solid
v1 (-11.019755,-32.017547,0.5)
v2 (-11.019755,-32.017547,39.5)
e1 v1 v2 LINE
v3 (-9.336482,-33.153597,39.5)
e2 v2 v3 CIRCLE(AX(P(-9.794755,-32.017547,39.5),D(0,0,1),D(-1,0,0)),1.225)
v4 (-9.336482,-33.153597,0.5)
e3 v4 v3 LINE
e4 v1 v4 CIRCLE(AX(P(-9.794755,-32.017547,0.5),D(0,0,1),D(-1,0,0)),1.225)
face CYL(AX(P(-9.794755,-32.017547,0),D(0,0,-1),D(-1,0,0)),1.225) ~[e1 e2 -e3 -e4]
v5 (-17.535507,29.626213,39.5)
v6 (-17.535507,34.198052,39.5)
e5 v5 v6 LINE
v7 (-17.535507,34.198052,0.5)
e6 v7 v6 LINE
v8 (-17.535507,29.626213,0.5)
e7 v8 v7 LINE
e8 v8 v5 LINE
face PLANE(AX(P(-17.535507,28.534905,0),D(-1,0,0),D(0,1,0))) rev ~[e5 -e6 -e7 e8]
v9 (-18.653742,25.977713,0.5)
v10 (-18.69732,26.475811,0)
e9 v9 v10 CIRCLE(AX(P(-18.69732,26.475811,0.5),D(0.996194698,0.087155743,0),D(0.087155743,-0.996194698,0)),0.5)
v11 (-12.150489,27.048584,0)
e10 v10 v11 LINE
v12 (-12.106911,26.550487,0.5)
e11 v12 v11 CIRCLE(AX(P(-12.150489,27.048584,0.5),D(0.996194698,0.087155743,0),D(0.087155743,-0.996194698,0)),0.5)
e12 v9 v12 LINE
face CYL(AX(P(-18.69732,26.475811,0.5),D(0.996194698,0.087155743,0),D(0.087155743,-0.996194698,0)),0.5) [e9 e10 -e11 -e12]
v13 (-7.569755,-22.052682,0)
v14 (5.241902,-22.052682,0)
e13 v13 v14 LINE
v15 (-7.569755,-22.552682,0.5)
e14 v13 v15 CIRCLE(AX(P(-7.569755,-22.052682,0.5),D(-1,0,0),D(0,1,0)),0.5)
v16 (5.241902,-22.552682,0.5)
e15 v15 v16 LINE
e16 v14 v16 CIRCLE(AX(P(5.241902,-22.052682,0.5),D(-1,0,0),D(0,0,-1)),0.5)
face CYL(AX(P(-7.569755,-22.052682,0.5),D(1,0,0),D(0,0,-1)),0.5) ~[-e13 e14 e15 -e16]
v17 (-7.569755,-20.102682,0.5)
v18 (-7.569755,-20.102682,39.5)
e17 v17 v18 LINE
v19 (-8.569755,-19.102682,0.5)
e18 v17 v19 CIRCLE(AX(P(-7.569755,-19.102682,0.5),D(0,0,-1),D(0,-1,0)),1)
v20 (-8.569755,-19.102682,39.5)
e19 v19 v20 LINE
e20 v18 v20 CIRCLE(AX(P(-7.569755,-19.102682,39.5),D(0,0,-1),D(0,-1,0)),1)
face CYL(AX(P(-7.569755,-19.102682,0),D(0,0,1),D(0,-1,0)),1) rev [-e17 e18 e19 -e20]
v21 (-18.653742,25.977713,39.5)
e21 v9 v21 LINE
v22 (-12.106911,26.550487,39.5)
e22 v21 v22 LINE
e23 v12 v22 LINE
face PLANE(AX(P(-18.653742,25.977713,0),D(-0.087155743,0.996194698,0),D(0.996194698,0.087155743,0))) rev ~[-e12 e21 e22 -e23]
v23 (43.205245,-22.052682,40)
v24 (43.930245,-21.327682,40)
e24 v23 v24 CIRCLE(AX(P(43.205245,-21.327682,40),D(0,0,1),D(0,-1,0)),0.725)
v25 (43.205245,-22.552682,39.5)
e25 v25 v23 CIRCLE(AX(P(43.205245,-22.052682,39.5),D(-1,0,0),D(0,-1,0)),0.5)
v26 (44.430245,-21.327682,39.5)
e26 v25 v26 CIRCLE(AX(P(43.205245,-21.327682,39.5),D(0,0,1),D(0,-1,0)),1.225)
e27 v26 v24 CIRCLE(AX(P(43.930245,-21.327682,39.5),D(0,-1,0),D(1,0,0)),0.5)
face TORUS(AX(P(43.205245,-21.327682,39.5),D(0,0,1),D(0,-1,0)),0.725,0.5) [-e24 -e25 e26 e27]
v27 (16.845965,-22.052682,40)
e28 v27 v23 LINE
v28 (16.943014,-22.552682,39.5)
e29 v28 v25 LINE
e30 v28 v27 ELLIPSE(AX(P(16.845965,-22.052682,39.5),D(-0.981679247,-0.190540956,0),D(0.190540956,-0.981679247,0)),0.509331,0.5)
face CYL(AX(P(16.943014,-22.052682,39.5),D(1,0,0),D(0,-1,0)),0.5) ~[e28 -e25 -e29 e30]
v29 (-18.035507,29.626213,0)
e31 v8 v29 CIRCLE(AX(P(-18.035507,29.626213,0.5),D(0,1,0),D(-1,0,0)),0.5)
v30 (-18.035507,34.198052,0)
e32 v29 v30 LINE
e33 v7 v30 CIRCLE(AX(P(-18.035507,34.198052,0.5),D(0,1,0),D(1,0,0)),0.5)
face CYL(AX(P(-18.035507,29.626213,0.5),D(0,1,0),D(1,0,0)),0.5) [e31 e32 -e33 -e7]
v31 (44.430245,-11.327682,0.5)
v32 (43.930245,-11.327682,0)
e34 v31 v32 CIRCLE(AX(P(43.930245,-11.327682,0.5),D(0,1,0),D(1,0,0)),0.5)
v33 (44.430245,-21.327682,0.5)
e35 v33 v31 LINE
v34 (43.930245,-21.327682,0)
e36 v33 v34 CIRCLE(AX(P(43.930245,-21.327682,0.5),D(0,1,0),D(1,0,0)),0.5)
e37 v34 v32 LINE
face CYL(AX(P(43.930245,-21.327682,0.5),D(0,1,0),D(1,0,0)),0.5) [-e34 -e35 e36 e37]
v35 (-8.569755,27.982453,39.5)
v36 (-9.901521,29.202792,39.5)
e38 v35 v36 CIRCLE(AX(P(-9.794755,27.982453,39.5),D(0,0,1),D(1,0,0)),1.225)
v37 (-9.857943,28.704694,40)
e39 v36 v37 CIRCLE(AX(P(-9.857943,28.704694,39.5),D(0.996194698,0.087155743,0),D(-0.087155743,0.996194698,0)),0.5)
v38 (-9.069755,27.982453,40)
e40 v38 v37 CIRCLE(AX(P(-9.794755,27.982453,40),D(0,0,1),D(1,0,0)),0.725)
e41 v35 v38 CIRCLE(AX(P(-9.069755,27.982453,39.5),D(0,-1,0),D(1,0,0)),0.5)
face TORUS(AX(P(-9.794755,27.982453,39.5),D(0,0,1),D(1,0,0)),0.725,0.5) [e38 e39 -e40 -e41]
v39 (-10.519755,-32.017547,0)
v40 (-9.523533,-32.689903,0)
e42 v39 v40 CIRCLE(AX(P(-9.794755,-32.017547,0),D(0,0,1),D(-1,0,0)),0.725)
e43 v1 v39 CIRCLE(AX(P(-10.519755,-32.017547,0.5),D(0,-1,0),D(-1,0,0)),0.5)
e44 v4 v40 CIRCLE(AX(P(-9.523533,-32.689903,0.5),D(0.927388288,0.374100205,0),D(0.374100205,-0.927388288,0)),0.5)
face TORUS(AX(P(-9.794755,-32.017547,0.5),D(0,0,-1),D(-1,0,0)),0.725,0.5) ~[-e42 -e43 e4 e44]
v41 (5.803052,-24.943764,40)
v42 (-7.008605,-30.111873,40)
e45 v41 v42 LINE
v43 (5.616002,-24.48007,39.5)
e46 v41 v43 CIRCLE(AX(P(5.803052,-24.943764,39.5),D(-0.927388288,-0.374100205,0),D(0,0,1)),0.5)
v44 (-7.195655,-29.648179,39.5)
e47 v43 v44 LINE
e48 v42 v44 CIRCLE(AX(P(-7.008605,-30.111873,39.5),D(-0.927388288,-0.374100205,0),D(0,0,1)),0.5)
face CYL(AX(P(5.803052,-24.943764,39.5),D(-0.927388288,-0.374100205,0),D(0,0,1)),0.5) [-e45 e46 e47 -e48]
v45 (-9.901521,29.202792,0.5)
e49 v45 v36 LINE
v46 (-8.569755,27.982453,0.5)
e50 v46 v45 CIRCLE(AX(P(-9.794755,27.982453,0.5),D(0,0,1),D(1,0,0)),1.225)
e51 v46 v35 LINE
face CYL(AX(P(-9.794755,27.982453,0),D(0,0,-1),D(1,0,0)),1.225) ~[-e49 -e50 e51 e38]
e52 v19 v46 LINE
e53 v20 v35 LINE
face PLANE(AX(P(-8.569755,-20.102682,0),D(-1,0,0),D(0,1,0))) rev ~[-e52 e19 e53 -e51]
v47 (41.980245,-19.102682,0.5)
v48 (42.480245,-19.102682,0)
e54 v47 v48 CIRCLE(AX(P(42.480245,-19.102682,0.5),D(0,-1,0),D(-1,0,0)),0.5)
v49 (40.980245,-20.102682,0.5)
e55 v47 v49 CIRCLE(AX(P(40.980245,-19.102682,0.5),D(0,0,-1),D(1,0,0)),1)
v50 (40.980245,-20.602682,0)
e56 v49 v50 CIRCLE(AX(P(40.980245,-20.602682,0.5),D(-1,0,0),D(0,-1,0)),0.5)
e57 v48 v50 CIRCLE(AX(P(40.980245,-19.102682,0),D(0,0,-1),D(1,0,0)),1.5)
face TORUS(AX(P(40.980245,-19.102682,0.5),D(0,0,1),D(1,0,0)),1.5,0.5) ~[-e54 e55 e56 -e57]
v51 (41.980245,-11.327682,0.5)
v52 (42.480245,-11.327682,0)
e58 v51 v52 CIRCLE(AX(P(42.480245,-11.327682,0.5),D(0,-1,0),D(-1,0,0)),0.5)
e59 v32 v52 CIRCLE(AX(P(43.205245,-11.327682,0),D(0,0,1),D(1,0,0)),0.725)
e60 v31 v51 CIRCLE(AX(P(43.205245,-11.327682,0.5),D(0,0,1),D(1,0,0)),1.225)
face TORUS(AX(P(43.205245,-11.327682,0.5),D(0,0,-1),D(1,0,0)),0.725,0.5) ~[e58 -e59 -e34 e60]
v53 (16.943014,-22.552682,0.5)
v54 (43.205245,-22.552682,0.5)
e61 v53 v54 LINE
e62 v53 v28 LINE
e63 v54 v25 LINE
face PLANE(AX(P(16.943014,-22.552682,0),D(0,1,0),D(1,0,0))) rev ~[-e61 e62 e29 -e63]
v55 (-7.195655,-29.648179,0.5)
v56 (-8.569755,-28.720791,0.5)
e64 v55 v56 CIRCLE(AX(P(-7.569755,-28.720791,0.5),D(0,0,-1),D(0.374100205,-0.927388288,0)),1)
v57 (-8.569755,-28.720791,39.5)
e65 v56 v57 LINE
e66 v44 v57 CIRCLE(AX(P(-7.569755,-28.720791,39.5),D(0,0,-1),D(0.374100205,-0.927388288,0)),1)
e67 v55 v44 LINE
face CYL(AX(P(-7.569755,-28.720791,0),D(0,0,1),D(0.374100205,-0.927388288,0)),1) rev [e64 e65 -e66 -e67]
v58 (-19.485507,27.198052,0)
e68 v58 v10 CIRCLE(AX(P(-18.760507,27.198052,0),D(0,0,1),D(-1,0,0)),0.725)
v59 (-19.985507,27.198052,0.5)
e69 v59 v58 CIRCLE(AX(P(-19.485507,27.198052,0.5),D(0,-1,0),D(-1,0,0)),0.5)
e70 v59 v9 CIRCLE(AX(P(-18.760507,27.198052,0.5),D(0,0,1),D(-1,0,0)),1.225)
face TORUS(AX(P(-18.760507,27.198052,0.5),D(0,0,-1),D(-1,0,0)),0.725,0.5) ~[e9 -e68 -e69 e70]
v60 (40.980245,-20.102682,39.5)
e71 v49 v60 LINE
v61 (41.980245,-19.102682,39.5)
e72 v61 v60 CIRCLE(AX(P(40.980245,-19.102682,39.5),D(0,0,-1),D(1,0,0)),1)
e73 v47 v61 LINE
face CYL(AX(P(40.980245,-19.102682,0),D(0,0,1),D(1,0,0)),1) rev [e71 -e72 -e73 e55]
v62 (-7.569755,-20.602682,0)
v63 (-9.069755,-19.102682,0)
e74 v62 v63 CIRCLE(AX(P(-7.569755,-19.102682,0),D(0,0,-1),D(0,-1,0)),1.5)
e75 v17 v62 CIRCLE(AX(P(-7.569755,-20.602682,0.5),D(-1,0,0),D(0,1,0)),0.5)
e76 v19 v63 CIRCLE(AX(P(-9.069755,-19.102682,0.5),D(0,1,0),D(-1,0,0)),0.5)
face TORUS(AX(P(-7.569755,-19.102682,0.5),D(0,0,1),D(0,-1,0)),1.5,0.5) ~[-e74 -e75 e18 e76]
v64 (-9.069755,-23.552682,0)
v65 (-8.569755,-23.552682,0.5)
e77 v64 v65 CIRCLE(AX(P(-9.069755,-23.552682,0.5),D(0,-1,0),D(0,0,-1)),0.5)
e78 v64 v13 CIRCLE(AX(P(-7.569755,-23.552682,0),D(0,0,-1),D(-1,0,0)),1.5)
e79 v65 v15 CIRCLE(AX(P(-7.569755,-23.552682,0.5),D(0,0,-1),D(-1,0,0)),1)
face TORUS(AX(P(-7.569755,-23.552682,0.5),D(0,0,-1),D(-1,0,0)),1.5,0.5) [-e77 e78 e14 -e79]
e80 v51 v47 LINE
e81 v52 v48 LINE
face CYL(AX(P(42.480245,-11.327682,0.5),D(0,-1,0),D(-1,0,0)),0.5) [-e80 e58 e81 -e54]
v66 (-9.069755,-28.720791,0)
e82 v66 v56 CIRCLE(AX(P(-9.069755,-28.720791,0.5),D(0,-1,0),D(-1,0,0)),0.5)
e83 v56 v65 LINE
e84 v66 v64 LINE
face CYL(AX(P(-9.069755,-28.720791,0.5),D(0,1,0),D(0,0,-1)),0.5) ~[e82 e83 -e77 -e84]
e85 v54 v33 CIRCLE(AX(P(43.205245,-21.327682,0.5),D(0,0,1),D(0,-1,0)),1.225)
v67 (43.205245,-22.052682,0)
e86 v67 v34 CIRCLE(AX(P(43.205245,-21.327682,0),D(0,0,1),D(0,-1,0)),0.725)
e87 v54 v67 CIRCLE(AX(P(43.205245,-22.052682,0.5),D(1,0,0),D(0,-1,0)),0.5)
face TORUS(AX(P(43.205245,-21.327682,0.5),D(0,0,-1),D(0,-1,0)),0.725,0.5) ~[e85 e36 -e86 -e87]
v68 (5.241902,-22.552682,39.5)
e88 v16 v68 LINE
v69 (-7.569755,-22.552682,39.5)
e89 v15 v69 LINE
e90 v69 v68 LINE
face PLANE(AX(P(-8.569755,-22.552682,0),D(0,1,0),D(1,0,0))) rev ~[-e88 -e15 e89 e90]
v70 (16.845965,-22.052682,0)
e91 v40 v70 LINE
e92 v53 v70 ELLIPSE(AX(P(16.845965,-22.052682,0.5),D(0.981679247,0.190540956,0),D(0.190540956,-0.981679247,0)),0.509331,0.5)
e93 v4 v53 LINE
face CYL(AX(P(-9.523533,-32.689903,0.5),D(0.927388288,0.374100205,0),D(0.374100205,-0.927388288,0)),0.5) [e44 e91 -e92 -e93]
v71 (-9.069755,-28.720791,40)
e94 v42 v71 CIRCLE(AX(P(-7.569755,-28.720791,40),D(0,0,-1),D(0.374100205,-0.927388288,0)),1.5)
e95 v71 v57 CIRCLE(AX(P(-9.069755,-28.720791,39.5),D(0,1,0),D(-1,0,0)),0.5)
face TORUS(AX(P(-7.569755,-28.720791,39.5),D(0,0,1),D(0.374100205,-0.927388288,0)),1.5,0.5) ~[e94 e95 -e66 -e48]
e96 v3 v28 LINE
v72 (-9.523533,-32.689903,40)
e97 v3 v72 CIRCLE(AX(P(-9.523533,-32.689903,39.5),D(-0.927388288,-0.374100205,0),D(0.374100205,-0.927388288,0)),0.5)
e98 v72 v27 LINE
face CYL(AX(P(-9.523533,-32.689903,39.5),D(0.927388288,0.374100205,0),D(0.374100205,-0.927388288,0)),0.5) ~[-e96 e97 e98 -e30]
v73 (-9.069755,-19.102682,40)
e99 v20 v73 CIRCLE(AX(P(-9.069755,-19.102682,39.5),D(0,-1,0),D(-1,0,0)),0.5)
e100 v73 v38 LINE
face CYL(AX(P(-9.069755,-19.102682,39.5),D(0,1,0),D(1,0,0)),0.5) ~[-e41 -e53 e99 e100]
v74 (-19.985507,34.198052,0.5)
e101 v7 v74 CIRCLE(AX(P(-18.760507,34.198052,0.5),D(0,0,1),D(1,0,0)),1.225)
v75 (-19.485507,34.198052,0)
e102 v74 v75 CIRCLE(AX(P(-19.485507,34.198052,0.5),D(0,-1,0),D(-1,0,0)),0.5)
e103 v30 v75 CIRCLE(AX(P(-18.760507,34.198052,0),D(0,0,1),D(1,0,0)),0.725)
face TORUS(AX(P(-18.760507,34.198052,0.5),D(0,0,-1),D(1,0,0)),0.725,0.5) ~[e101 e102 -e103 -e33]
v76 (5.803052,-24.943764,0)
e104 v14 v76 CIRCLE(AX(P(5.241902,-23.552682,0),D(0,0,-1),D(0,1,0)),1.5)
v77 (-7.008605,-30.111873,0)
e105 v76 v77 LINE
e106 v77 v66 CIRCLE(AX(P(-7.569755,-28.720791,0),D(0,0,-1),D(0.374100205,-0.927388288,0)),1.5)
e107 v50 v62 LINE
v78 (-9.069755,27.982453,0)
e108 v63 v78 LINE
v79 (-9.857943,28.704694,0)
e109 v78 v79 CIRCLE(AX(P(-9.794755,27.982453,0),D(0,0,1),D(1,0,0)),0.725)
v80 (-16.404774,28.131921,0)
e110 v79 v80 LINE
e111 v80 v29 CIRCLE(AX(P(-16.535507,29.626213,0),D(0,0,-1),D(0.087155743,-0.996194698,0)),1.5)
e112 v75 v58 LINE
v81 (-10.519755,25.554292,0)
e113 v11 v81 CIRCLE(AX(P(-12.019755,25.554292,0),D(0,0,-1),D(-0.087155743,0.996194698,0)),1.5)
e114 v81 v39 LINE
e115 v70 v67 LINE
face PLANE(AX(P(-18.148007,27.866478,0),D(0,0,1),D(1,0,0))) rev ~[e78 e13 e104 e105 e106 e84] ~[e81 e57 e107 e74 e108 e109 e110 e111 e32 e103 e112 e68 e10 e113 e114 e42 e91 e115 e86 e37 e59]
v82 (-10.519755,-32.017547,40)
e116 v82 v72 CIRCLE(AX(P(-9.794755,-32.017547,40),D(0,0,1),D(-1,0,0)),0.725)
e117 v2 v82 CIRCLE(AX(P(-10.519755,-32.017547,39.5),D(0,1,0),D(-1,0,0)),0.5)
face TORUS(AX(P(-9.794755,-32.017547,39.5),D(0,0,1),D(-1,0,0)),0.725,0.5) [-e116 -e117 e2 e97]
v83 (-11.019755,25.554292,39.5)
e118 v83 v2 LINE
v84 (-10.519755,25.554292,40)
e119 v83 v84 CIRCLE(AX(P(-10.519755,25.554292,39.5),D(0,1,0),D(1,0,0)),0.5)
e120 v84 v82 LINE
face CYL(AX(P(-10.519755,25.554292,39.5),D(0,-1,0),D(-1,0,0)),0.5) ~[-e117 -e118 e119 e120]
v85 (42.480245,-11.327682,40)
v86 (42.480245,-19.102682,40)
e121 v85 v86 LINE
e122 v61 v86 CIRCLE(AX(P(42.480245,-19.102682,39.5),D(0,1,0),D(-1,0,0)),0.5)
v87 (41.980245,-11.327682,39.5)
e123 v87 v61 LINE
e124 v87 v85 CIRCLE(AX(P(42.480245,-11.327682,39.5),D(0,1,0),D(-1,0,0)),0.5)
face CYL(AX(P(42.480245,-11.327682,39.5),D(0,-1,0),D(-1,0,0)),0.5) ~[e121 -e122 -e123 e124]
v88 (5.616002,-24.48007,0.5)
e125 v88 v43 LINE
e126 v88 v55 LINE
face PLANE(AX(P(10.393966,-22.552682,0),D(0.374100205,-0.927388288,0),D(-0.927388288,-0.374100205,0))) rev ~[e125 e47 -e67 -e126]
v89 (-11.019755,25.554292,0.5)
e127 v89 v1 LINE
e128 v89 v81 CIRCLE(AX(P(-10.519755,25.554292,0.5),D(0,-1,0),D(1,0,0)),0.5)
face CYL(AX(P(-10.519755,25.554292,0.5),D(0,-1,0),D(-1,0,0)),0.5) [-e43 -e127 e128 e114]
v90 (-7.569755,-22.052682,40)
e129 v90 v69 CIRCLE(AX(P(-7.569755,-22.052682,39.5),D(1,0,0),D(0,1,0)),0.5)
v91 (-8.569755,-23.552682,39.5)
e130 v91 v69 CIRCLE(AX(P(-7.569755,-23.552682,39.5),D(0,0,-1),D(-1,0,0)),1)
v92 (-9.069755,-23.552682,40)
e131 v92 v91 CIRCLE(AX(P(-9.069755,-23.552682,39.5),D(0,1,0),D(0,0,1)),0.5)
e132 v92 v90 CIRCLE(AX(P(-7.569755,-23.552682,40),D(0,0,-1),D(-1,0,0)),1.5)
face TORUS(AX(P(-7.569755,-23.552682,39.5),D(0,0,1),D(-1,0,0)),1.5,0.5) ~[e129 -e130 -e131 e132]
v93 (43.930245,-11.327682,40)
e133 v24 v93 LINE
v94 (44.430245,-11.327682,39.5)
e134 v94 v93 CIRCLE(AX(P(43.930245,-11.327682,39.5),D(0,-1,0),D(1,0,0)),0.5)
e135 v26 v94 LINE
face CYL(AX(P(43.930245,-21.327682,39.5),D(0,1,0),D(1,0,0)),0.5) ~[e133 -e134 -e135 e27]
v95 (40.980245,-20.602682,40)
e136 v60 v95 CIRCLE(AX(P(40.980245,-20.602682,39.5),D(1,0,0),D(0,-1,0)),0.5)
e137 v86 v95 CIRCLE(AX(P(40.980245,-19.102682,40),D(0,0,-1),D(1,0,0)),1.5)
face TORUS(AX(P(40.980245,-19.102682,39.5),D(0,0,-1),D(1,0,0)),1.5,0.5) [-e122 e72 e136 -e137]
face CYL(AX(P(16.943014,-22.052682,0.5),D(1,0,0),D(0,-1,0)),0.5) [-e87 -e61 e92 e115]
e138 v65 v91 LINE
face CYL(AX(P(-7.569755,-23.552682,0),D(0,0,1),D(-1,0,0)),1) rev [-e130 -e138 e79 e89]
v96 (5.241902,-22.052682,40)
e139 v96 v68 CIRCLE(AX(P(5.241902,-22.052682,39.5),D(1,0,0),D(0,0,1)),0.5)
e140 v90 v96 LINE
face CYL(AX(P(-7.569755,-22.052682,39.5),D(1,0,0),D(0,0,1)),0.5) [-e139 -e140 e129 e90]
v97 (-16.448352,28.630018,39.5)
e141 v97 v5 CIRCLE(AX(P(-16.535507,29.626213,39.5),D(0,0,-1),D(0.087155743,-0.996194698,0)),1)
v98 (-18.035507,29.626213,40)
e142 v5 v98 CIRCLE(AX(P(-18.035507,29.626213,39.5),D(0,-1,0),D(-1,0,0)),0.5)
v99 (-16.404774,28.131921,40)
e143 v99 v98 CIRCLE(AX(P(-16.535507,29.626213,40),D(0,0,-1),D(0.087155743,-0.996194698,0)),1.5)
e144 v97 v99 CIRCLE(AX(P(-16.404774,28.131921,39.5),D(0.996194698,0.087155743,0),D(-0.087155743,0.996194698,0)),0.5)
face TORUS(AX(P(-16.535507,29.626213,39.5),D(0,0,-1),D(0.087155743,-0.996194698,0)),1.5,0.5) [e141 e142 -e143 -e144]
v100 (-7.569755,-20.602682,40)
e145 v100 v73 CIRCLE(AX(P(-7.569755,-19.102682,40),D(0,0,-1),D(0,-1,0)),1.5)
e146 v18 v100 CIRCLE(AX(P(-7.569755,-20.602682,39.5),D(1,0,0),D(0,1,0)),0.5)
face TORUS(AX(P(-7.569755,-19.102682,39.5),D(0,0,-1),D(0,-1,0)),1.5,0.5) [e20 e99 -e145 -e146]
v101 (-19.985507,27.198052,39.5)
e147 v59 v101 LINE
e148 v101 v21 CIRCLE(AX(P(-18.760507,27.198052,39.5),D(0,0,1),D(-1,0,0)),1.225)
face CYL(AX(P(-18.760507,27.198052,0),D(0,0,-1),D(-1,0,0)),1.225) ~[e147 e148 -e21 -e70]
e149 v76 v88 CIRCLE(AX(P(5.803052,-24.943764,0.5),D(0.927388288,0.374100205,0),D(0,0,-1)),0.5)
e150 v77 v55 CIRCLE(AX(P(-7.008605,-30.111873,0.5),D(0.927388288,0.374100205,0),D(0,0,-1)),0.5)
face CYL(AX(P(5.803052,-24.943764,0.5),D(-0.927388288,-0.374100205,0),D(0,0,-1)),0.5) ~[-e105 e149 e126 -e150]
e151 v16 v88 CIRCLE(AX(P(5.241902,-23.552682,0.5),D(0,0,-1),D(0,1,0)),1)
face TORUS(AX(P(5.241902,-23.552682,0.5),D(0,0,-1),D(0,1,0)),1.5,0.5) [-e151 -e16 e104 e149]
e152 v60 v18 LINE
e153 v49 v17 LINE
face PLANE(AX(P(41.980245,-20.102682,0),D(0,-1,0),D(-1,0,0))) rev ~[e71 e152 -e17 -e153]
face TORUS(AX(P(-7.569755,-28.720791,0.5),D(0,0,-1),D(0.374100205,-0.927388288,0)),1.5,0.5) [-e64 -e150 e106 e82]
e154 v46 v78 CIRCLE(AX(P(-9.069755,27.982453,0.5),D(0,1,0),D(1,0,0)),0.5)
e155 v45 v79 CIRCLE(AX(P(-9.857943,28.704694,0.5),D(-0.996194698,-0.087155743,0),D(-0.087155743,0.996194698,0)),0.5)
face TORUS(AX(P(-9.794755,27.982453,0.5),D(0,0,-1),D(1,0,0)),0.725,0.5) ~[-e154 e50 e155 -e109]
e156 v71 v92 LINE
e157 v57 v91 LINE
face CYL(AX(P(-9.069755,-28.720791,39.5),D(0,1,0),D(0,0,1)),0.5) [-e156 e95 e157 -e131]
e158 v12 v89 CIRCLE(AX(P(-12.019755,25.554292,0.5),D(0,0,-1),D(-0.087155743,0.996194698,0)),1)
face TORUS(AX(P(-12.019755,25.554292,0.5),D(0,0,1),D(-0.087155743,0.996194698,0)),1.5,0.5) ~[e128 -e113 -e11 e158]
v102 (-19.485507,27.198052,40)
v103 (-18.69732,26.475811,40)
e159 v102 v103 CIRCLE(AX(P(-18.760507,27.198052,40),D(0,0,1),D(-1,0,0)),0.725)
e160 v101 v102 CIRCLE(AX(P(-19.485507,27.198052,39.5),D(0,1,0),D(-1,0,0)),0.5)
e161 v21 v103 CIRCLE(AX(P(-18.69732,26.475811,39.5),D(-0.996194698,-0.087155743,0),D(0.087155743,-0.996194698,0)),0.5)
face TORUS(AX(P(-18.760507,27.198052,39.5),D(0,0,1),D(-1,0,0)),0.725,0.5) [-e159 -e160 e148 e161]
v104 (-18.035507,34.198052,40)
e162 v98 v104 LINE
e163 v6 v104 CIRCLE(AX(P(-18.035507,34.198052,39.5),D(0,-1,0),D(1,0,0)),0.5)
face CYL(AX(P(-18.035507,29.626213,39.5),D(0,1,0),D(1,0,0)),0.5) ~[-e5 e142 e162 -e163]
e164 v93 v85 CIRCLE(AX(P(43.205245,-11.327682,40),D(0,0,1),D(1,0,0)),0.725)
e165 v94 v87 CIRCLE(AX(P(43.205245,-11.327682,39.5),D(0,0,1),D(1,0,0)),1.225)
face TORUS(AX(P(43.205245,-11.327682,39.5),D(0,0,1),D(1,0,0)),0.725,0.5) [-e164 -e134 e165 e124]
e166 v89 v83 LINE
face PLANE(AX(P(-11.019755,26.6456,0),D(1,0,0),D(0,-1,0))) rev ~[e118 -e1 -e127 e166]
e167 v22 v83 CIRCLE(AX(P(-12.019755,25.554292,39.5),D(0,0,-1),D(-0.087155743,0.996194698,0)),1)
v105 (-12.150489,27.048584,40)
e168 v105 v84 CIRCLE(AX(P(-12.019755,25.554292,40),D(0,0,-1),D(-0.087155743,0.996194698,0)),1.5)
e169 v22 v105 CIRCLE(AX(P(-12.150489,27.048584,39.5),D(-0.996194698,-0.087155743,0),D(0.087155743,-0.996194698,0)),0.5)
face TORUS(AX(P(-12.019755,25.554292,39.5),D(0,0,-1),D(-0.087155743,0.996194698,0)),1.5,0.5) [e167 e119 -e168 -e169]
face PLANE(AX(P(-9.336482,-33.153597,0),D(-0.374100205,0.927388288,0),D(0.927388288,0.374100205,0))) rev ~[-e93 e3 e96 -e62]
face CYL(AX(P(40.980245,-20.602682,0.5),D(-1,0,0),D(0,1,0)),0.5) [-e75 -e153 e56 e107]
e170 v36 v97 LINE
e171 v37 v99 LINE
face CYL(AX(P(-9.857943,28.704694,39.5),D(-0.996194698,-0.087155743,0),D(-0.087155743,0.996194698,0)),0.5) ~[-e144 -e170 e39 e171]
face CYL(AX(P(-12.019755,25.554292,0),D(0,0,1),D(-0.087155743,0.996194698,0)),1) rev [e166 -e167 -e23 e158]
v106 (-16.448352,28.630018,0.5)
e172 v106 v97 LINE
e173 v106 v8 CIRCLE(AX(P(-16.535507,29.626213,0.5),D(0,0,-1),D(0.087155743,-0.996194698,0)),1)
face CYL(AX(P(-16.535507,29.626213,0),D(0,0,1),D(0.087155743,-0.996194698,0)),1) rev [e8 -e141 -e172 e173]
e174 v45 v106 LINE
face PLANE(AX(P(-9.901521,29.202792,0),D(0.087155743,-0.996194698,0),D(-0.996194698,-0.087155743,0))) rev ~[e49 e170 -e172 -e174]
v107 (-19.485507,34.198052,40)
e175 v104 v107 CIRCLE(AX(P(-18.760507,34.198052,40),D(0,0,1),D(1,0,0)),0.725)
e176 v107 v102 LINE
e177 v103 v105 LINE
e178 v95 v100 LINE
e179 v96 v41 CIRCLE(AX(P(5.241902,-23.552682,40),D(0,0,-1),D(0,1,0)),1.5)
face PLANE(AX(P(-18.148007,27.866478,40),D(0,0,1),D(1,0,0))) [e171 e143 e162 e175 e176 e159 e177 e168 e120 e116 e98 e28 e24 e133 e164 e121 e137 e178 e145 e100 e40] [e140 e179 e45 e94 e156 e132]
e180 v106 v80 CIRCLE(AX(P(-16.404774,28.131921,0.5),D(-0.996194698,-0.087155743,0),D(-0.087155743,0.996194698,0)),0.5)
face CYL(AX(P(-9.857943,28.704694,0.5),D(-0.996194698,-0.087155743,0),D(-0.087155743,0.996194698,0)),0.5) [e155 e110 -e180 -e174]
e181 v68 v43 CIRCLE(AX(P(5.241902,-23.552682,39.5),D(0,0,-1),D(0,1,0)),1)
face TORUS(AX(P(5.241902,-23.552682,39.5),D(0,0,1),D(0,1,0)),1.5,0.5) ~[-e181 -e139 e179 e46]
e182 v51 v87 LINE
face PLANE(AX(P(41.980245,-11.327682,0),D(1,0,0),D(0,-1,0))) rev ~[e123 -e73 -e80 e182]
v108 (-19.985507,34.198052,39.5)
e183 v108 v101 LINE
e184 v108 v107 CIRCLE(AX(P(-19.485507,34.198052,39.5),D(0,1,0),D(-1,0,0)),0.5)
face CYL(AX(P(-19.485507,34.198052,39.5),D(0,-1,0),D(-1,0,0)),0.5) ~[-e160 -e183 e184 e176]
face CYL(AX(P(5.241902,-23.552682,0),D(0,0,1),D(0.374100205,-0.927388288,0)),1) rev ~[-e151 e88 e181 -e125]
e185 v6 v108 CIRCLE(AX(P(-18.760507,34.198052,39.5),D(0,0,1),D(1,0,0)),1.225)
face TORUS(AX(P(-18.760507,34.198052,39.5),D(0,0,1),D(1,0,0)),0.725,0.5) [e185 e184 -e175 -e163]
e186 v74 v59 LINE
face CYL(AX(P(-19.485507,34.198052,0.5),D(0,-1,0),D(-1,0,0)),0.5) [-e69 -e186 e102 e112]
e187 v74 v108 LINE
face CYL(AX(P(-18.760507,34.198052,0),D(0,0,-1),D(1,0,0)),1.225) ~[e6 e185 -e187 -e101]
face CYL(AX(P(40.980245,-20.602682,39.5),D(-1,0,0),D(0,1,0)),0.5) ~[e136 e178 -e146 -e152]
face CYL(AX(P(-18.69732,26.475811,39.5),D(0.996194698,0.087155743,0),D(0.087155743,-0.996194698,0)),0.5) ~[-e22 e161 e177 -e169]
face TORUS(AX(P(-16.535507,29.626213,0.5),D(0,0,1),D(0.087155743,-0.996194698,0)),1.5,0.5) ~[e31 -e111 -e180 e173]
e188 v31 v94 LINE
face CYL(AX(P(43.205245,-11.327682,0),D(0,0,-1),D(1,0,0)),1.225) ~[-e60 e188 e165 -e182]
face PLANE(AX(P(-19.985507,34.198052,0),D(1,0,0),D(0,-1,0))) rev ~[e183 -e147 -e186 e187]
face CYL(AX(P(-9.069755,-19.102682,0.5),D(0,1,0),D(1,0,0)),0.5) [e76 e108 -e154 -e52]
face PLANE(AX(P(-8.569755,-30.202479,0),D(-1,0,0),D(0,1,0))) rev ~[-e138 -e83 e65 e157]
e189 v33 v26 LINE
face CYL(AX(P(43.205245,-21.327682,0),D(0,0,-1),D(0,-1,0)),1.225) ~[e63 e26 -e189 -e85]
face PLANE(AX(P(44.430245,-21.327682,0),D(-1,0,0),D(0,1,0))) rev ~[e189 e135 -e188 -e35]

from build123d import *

# Parameters (mm, degrees)
F0_W     = 1.225
F0_H     = 1.225
F1_DEPTH = 40
F2_R     = 1
F3_R     = 0.5


with BuildPart() as f1:
    # F0 (on Top) → F1 (new body)
    with BuildSketch(Plane.XY):
        Polygon((-17.5355074389, 28.5349045721), (-18.7605074389, 28.4277309593), (-18.7605074389, 27.1980516583), (-17.5355074389, 27.3052252711), align=None)
        with BuildLine():
            Line((-18.7605074389, 27.1980516583), (-18.7605074389, 28.4277309593))
            Line((-18.7605074389, 28.4277309593), (-18.8672732237, 28.4183901634))
            ThreePointArc((-18.8672732237, 28.4183901634), (-19.6636721765, 28.0256496626), (-19.9855074389, 27.1980516583))
            ThreePointArc((-19.9855074389, 27.1980516583), (-19.5881054432, 26.2948869207), (-18.653741654, 25.9777131531))
            ThreePointArc((-18.653741654, 25.9777131531), (-17.8573427013, 26.3704536539), (-17.5355074389, 27.1980516583))
            Line((-17.5355074389, 27.1980516583), (-17.5355074389, 27.3052252711))
            Line((-17.5355074389, 27.3052252711), (-18.7605074389, 27.1980516583))
        make_face()
        with BuildLine():
            Line((-18.8672732237, 28.4183901634), (-18.7605074389, 28.4277309593))
            Line((-18.7605074389, 28.4277309593), (-17.5355074389, 28.5349045721))
            Line((-17.5355074389, 28.5349045721), (-17.5355074389, 34.1980516583))
            ThreePointArc((-17.5355074389, 34.1980516583), (-18.7605074389, 35.4230516583), (-19.9855074389, 34.1980516583))
            Line((-19.9855074389, 34.1980516583), (-19.9855074389, 27.1980516583))
            ThreePointArc((-19.9855074389, 27.1980516583), (-19.6636721765, 28.0256496626), (-18.8672732237, 28.4183901634))
        make_face()
        with BuildLine():
            Line((-9.9015209409, 29.2027918482), (-17.5355074389, 28.5349045721))
            Line((-17.5355074389, 28.5349045721), (-17.5355074389, 27.3052252711))
            Line((-17.5355074389, 27.3052252711), (-11.019755156, 27.8752797302))
            Line((-11.019755156, 27.8752797302), (-11.019755156, 27.982453343))
            ThreePointArc((-11.019755156, 27.982453343), (-10.6979198936, 28.8100513473), (-9.9015209409, 29.2027918482))
        make_face()
        with BuildLine():
            Line((-11.019755156, 27.8752797302), (-17.5355074389, 27.3052252711))
            Line((-17.5355074389, 27.3052252711), (-17.5355074389, 27.1980516583))
            ThreePointArc((-17.5355074389, 27.1980516583), (-17.8573427013, 26.3704536539), (-18.653741654, 25.9777131531))
            Line((-18.653741654, 25.9777131531), (-11.019755156, 26.6456004292))
            Line((-11.019755156, 26.6456004292), (-11.019755156, 27.8752797302))
        make_face()
        with BuildLine():
            ThreePointArc((-8.569755156, 27.982453343), (-8.9671571517, 28.8856180806), (-9.9015209409, 29.2027918482))
            ThreePointArc((-9.9015209409, 29.2027918482), (-10.6979198936, 28.8100513473), (-11.019755156, 27.982453343))
            Line((-11.019755156, 27.982453343), (-11.019755156, 27.8752797302))
            Line((-11.019755156, 27.8752797302), (-9.794755156, 27.982453343))
            Line((-9.794755156, 27.982453343), (-9.794755156, 26.752774042))
            Line((-9.794755156, 26.752774042), (-9.6879893712, 26.7621148378))
            ThreePointArc((-9.6879893712, 26.7621148378), (-8.8915904184, 27.1548553387), (-8.569755156, 27.982453343))
        make_face()
        Polygon((-9.794755156, 27.982453343), (-11.019755156, 27.8752797302), (-11.019755156, 26.6456004292), (-9.794755156, 26.752774042), align=None)
        with BuildLine():
            Line((-8.569755156, -20.1026818395), (-8.569755156, 27.982453343))
            ThreePointArc((-8.569755156, 27.982453343), (-8.8915904184, 27.1548553387), (-9.6879893712, 26.7621148378))
            Line((-9.6879893712, 26.7621148378), (-9.794755156, 26.752774042))
            Line((-9.794755156, 26.752774042), (-9.794755156, -20.1026818395))
            Line((-9.794755156, -20.1026818395), (-8.569755156, -20.1026818395))
        make_face()
        with BuildLine():
            Line((-9.794755156, 26.752774042), (-11.019755156, 26.6456004292))
            Line((-11.019755156, 26.6456004292), (-11.019755156, -21.3276818395))
            ThreePointArc((-11.019755156, -21.3276818395), (-10.660960963, -20.4614760325), (-9.794755156, -20.1026818395))
            Line((-9.794755156, -20.1026818395), (-9.794755156, 26.752774042))
        make_face()
        with BuildLine():
            Line((16.705244844, -20.1026818395), (-8.569755156, -20.1026818395))
            Line((-8.569755156, -20.1026818395), (-8.569755156, -21.3276818395))
            Line((-8.569755156, -21.3276818395), (13.4307211101, -21.3276818395))
            Line((13.4307211101, -21.3276818395), (16.2469720929, -20.1916311867))
            ThreePointArc((16.2469720929, -20.1916311867), (16.4718321725, -20.1251247619), (16.705244844, -20.1026818395))
        make_face()
        with Locations((-9.182255156, -20.7151818395)):
            Rectangle(F0_W, F0_H)
        with BuildLine():
            ThreePointArc((-9.794755156, -22.5526818395), (-10.660960963, -22.1938876464), (-11.019755156, -21.3276818395))
            Line((-11.019755156, -21.3276818395), (-11.019755156, -32.017546657))
            ThreePointArc((-11.019755156, -32.017546657), (-10.8101391031, -31.3322580755), (-10.2530279071, -30.8814960043))
            Line((-10.2530279071, -30.8814960043), (-9.794755156, -30.6966328436))
            Line((-9.794755156, -30.6966328436), (-9.794755156, -22.5526818395))
        make_face()
        with BuildLine():
            ThreePointArc((-9.794755156, -20.1026818395), (-10.660960963, -20.4614760325), (-11.019755156, -21.3276818395))
            ThreePointArc((-11.019755156, -21.3276818395), (-10.660960963, -22.1938876464), (-9.794755156, -22.5526818395))
            Line((-9.794755156, -22.5526818395), (-9.794755156, -21.3276818395))
            Line((-9.794755156, -21.3276818395), (-9.794755156, -20.1026818395))
        make_face()
        with BuildLine():
            ThreePointArc((17.930244844, -21.3276818395), (17.5714506509, -20.4614760325), (16.705244844, -20.1026818395))
            ThreePointArc((16.705244844, -20.1026818395), (16.4718321725, -20.1251247619), (16.2469720929, -20.1916311867))
            Line((16.2469720929, -20.1916311867), (13.4307211101, -21.3276818395))
            Line((13.4307211101, -21.3276818395), (16.705244844, -21.3276818395))
            Line((16.705244844, -21.3276818395), (17.930244844, -21.3276818395))
        make_face()
        with BuildLine():
            Line((41.980244844, -20.1026818395), (16.705244844, -20.1026818395))
            ThreePointArc((16.705244844, -20.1026818395), (17.5714506509, -20.4614760325), (17.930244844, -21.3276818395))
            Line((17.930244844, -21.3276818395), (41.980244844, -21.3276818395))
            Line((41.980244844, -21.3276818395), (41.980244844, -20.1026818395))
        make_face()
        with BuildLine():
            ThreePointArc((-10.2530279071, -30.8814960043), (-10.8101391031, -31.3322580755), (-11.019755156, -32.017546657))
            ThreePointArc((-11.019755156, -32.017546657), (-10.4800437376, -33.0329306041), (-9.3364824049, -33.1535973098))
            ThreePointArc((-9.3364824049, -33.1535973098), (-8.7793712089, -32.7028352385), (-8.569755156, -32.017546657))
            Line((-8.569755156, -32.017546657), (-8.569755156, -31.5233925286))
            Line((-8.569755156, -31.5233925286), (-9.794755156, -32.017546657))
            Line((-9.794755156, -32.017546657), (-9.794755156, -30.6966328436))
            Line((-9.794755156, -30.6966328436), (-10.2530279071, -30.8814960043))
        make_face()
        with BuildLine():
            Line((41.980244844, -11.3276818395), (41.980244844, -20.1026818395))
            Line((41.980244844, -20.1026818395), (43.205244844, -20.1026818395))
            ThreePointArc((43.205244844, -20.1026818395), (44.0714506509, -20.4614760325), (44.430244844, -21.3276818395))
            Line((44.430244844, -21.3276818395), (44.430244844, -11.3276818395))
            ThreePointArc((44.430244844, -11.3276818395), (43.205244844, -10.1026818395), (41.980244844, -11.3276818395))
        make_face()
        with Locations((42.592744844, -20.7151818395)):
            Rectangle(F0_W, F0_H)
        with BuildLine():
            ThreePointArc((17.1635175951, -22.4637324922), (17.7206287911, -22.012970421), (17.930244844, -21.3276818395))
            Line((17.930244844, -21.3276818395), (16.705244844, -21.3276818395))
            Line((16.705244844, -21.3276818395), (13.6684898846, -22.5526818395))
            Line((13.6684898846, -22.5526818395), (16.9430136184, -22.5526818395))
            Line((16.9430136184, -22.5526818395), (17.1635175951, -22.4637324922))
        make_face()
        with BuildLine():
            Line((41.980244844, -21.3276818395), (17.930244844, -21.3276818395))
            ThreePointArc((17.930244844, -21.3276818395), (17.7206287911, -22.012970421), (17.1635175951, -22.4637324922))
            Line((17.1635175951, -22.4637324922), (16.9430136184, -22.5526818395))
            Line((16.9430136184, -22.5526818395), (43.205244844, -22.5526818395))
            ThreePointArc((43.205244844, -22.5526818395), (42.339039037, -22.1938876464), (41.980244844, -21.3276818395))
        make_face()
        with BuildLine():
            ThreePointArc((-8.569755156, -32.017546657), (-8.7793712089, -32.7028352385), (-9.3364824049, -33.1535973098))
            Line((-9.3364824049, -33.1535973098), (16.9430136184, -22.5526818395))
            Line((16.9430136184, -22.5526818395), (13.6684898846, -22.5526818395))
            Line((13.6684898846, -22.5526818395), (-8.569755156, -31.5233925286))
            Line((-8.569755156, -31.5233925286), (-8.569755156, -32.017546657))
        make_face()
        with BuildLine():
            ThreePointArc((44.430244844, -21.3276818395), (44.0714506509, -20.4614760325), (43.205244844, -20.1026818395))
            Line((43.205244844, -20.1026818395), (43.205244844, -21.3276818395))
            Line((43.205244844, -21.3276818395), (41.980244844, -21.3276818395))
            ThreePointArc((41.980244844, -21.3276818395), (42.339039037, -22.1938876464), (43.205244844, -22.5526818395))
            ThreePointArc((43.205244844, -22.5526818395), (44.0714506509, -22.1938876464), (44.430244844, -21.3276818395))
        make_face()
        Polygon((13.4307211101, -21.3276818395), (-8.569755156, -21.3276818395), (-8.569755156, -22.5526818395), (10.3939661507, -22.5526818395), align=None)
        Polygon((16.705244844, -21.3276818395), (13.4307211101, -21.3276818395), (10.3939661507, -22.5526818395), (13.6684898846, -22.5526818395), align=None)
        Polygon((13.6684898846, -22.5526818395), (10.3939661507, -22.5526818395), (-8.569755156, -30.2024787152), (-8.569755156, -31.5233925286), align=None)
        Polygon((-8.569755156, -22.5526818395), (-9.794755156, -22.5526818395), (-9.794755156, -30.6966328436), (-8.569755156, -30.2024787152), align=None)
        with Locations((-9.182255156, -21.9401818395)):
            Rectangle(F0_W, F0_H)
        Polygon((-8.569755156, -30.2024787152), (-9.794755156, -30.6966328436), (-9.794755156, -32.017546657), (-8.569755156, -31.5233925286), align=None)
    extrude(amount=F1_DEPTH)

    # F2
    f2_edges = [f1.edges().sort_by_distance(p)[0] for p in [
        (-8.569755, -22.552682, 20),
        (10.393966, -22.552682, 20),
        (-8.569755, -30.202479, 20),
        (-8.569755, -20.102682, 20),
        (41.980245, -20.102682, 20),
        (-17.535507, 28.534905, 20),
        (-11.019755, 26.6456, 20),
    ]]
    fillet(f2_edges, radius=F2_R)

    # F3
    f3_edges = [f1.edges().sort_by_distance(p)[0] for p in [
        (-15.380326, 26.2641, 40),
        (-11.344165, 26.291569, 40),
        (-19.588105, 26.294887, 40),
        (-11.019755, -3.231627, 40),
        (-19.985507, 30.698052, 40),
        (-10.480044, -33.032931, 40),
        (-18.760507, 35.423052, 40),
        (3.803266, -27.85314, 40),
        (-17.535507, 31.912132, 40),
        (30.074129, -22.552682, 40),
        (-17.211098, 28.888936, 40),
        (44.071451, -22.193888, 40),
        (-13.174936, 28.916405, 40),
        (44.430245, -16.327682, 40),
        (-8.967157, 28.885618, 40),
        (43.205245, -10.102682, 40),
        (-8.569755, 4.439886, 40),
        (41.980245, -15.215182, 40),
        (-8.276862, -19.809789, 40),
        (41.687352, -19.809789, 40),
        (16.705245, -20.102682, 40),
        (-0.789826, -27.064125, 40),
        (6.223581, -23.362141, 40),
        (-8.129174, -29.549675, 40),
        (-1.163927, -22.552682, 40),
        (-8.569755, -26.136736, 40),
        (-8.276862, -22.845575, 40),
        (-15.380326, 26.2641, 0),
        (-11.344165, 26.291569, 0),
        (-19.588105, 26.294887, 0),
        (-11.019755, -3.231627, 0),
        (-19.985507, 30.698052, 0),
        (-10.480044, -33.032931, 0),
        (-18.760507, 35.423052, 0),
        (3.803266, -27.85314, 0),
        (-17.535507, 31.912132, 0),
        (30.074129, -22.552682, 0),
        (-17.211098, 28.888936, 0),
        (44.071451, -22.193888, 0),
        (-13.174936, 28.916405, 0),
        (44.430245, -16.327682, 0),
        (-8.967157, 28.885618, 0),
        (43.205245, -10.102682, 0),
        (-8.569755, 4.439886, 0),
        (41.980245, -15.215182, 0),
        (-8.276862, -19.809789, 0),
        (41.687352, -19.809789, 0),
        (16.705245, -20.102682, 0),
        (-0.789826, -27.064125, 0),
        (6.223581, -23.362141, 0),
        (-8.129174, -29.549675, 0),
        (-1.163927, -22.552682, 0),
        (-8.569755, -26.136736, 0),
        (-8.276862, -22.845575, 0),
    ]]
    fillet(f3_edges, radius=F3_R)


solid = f1.part
